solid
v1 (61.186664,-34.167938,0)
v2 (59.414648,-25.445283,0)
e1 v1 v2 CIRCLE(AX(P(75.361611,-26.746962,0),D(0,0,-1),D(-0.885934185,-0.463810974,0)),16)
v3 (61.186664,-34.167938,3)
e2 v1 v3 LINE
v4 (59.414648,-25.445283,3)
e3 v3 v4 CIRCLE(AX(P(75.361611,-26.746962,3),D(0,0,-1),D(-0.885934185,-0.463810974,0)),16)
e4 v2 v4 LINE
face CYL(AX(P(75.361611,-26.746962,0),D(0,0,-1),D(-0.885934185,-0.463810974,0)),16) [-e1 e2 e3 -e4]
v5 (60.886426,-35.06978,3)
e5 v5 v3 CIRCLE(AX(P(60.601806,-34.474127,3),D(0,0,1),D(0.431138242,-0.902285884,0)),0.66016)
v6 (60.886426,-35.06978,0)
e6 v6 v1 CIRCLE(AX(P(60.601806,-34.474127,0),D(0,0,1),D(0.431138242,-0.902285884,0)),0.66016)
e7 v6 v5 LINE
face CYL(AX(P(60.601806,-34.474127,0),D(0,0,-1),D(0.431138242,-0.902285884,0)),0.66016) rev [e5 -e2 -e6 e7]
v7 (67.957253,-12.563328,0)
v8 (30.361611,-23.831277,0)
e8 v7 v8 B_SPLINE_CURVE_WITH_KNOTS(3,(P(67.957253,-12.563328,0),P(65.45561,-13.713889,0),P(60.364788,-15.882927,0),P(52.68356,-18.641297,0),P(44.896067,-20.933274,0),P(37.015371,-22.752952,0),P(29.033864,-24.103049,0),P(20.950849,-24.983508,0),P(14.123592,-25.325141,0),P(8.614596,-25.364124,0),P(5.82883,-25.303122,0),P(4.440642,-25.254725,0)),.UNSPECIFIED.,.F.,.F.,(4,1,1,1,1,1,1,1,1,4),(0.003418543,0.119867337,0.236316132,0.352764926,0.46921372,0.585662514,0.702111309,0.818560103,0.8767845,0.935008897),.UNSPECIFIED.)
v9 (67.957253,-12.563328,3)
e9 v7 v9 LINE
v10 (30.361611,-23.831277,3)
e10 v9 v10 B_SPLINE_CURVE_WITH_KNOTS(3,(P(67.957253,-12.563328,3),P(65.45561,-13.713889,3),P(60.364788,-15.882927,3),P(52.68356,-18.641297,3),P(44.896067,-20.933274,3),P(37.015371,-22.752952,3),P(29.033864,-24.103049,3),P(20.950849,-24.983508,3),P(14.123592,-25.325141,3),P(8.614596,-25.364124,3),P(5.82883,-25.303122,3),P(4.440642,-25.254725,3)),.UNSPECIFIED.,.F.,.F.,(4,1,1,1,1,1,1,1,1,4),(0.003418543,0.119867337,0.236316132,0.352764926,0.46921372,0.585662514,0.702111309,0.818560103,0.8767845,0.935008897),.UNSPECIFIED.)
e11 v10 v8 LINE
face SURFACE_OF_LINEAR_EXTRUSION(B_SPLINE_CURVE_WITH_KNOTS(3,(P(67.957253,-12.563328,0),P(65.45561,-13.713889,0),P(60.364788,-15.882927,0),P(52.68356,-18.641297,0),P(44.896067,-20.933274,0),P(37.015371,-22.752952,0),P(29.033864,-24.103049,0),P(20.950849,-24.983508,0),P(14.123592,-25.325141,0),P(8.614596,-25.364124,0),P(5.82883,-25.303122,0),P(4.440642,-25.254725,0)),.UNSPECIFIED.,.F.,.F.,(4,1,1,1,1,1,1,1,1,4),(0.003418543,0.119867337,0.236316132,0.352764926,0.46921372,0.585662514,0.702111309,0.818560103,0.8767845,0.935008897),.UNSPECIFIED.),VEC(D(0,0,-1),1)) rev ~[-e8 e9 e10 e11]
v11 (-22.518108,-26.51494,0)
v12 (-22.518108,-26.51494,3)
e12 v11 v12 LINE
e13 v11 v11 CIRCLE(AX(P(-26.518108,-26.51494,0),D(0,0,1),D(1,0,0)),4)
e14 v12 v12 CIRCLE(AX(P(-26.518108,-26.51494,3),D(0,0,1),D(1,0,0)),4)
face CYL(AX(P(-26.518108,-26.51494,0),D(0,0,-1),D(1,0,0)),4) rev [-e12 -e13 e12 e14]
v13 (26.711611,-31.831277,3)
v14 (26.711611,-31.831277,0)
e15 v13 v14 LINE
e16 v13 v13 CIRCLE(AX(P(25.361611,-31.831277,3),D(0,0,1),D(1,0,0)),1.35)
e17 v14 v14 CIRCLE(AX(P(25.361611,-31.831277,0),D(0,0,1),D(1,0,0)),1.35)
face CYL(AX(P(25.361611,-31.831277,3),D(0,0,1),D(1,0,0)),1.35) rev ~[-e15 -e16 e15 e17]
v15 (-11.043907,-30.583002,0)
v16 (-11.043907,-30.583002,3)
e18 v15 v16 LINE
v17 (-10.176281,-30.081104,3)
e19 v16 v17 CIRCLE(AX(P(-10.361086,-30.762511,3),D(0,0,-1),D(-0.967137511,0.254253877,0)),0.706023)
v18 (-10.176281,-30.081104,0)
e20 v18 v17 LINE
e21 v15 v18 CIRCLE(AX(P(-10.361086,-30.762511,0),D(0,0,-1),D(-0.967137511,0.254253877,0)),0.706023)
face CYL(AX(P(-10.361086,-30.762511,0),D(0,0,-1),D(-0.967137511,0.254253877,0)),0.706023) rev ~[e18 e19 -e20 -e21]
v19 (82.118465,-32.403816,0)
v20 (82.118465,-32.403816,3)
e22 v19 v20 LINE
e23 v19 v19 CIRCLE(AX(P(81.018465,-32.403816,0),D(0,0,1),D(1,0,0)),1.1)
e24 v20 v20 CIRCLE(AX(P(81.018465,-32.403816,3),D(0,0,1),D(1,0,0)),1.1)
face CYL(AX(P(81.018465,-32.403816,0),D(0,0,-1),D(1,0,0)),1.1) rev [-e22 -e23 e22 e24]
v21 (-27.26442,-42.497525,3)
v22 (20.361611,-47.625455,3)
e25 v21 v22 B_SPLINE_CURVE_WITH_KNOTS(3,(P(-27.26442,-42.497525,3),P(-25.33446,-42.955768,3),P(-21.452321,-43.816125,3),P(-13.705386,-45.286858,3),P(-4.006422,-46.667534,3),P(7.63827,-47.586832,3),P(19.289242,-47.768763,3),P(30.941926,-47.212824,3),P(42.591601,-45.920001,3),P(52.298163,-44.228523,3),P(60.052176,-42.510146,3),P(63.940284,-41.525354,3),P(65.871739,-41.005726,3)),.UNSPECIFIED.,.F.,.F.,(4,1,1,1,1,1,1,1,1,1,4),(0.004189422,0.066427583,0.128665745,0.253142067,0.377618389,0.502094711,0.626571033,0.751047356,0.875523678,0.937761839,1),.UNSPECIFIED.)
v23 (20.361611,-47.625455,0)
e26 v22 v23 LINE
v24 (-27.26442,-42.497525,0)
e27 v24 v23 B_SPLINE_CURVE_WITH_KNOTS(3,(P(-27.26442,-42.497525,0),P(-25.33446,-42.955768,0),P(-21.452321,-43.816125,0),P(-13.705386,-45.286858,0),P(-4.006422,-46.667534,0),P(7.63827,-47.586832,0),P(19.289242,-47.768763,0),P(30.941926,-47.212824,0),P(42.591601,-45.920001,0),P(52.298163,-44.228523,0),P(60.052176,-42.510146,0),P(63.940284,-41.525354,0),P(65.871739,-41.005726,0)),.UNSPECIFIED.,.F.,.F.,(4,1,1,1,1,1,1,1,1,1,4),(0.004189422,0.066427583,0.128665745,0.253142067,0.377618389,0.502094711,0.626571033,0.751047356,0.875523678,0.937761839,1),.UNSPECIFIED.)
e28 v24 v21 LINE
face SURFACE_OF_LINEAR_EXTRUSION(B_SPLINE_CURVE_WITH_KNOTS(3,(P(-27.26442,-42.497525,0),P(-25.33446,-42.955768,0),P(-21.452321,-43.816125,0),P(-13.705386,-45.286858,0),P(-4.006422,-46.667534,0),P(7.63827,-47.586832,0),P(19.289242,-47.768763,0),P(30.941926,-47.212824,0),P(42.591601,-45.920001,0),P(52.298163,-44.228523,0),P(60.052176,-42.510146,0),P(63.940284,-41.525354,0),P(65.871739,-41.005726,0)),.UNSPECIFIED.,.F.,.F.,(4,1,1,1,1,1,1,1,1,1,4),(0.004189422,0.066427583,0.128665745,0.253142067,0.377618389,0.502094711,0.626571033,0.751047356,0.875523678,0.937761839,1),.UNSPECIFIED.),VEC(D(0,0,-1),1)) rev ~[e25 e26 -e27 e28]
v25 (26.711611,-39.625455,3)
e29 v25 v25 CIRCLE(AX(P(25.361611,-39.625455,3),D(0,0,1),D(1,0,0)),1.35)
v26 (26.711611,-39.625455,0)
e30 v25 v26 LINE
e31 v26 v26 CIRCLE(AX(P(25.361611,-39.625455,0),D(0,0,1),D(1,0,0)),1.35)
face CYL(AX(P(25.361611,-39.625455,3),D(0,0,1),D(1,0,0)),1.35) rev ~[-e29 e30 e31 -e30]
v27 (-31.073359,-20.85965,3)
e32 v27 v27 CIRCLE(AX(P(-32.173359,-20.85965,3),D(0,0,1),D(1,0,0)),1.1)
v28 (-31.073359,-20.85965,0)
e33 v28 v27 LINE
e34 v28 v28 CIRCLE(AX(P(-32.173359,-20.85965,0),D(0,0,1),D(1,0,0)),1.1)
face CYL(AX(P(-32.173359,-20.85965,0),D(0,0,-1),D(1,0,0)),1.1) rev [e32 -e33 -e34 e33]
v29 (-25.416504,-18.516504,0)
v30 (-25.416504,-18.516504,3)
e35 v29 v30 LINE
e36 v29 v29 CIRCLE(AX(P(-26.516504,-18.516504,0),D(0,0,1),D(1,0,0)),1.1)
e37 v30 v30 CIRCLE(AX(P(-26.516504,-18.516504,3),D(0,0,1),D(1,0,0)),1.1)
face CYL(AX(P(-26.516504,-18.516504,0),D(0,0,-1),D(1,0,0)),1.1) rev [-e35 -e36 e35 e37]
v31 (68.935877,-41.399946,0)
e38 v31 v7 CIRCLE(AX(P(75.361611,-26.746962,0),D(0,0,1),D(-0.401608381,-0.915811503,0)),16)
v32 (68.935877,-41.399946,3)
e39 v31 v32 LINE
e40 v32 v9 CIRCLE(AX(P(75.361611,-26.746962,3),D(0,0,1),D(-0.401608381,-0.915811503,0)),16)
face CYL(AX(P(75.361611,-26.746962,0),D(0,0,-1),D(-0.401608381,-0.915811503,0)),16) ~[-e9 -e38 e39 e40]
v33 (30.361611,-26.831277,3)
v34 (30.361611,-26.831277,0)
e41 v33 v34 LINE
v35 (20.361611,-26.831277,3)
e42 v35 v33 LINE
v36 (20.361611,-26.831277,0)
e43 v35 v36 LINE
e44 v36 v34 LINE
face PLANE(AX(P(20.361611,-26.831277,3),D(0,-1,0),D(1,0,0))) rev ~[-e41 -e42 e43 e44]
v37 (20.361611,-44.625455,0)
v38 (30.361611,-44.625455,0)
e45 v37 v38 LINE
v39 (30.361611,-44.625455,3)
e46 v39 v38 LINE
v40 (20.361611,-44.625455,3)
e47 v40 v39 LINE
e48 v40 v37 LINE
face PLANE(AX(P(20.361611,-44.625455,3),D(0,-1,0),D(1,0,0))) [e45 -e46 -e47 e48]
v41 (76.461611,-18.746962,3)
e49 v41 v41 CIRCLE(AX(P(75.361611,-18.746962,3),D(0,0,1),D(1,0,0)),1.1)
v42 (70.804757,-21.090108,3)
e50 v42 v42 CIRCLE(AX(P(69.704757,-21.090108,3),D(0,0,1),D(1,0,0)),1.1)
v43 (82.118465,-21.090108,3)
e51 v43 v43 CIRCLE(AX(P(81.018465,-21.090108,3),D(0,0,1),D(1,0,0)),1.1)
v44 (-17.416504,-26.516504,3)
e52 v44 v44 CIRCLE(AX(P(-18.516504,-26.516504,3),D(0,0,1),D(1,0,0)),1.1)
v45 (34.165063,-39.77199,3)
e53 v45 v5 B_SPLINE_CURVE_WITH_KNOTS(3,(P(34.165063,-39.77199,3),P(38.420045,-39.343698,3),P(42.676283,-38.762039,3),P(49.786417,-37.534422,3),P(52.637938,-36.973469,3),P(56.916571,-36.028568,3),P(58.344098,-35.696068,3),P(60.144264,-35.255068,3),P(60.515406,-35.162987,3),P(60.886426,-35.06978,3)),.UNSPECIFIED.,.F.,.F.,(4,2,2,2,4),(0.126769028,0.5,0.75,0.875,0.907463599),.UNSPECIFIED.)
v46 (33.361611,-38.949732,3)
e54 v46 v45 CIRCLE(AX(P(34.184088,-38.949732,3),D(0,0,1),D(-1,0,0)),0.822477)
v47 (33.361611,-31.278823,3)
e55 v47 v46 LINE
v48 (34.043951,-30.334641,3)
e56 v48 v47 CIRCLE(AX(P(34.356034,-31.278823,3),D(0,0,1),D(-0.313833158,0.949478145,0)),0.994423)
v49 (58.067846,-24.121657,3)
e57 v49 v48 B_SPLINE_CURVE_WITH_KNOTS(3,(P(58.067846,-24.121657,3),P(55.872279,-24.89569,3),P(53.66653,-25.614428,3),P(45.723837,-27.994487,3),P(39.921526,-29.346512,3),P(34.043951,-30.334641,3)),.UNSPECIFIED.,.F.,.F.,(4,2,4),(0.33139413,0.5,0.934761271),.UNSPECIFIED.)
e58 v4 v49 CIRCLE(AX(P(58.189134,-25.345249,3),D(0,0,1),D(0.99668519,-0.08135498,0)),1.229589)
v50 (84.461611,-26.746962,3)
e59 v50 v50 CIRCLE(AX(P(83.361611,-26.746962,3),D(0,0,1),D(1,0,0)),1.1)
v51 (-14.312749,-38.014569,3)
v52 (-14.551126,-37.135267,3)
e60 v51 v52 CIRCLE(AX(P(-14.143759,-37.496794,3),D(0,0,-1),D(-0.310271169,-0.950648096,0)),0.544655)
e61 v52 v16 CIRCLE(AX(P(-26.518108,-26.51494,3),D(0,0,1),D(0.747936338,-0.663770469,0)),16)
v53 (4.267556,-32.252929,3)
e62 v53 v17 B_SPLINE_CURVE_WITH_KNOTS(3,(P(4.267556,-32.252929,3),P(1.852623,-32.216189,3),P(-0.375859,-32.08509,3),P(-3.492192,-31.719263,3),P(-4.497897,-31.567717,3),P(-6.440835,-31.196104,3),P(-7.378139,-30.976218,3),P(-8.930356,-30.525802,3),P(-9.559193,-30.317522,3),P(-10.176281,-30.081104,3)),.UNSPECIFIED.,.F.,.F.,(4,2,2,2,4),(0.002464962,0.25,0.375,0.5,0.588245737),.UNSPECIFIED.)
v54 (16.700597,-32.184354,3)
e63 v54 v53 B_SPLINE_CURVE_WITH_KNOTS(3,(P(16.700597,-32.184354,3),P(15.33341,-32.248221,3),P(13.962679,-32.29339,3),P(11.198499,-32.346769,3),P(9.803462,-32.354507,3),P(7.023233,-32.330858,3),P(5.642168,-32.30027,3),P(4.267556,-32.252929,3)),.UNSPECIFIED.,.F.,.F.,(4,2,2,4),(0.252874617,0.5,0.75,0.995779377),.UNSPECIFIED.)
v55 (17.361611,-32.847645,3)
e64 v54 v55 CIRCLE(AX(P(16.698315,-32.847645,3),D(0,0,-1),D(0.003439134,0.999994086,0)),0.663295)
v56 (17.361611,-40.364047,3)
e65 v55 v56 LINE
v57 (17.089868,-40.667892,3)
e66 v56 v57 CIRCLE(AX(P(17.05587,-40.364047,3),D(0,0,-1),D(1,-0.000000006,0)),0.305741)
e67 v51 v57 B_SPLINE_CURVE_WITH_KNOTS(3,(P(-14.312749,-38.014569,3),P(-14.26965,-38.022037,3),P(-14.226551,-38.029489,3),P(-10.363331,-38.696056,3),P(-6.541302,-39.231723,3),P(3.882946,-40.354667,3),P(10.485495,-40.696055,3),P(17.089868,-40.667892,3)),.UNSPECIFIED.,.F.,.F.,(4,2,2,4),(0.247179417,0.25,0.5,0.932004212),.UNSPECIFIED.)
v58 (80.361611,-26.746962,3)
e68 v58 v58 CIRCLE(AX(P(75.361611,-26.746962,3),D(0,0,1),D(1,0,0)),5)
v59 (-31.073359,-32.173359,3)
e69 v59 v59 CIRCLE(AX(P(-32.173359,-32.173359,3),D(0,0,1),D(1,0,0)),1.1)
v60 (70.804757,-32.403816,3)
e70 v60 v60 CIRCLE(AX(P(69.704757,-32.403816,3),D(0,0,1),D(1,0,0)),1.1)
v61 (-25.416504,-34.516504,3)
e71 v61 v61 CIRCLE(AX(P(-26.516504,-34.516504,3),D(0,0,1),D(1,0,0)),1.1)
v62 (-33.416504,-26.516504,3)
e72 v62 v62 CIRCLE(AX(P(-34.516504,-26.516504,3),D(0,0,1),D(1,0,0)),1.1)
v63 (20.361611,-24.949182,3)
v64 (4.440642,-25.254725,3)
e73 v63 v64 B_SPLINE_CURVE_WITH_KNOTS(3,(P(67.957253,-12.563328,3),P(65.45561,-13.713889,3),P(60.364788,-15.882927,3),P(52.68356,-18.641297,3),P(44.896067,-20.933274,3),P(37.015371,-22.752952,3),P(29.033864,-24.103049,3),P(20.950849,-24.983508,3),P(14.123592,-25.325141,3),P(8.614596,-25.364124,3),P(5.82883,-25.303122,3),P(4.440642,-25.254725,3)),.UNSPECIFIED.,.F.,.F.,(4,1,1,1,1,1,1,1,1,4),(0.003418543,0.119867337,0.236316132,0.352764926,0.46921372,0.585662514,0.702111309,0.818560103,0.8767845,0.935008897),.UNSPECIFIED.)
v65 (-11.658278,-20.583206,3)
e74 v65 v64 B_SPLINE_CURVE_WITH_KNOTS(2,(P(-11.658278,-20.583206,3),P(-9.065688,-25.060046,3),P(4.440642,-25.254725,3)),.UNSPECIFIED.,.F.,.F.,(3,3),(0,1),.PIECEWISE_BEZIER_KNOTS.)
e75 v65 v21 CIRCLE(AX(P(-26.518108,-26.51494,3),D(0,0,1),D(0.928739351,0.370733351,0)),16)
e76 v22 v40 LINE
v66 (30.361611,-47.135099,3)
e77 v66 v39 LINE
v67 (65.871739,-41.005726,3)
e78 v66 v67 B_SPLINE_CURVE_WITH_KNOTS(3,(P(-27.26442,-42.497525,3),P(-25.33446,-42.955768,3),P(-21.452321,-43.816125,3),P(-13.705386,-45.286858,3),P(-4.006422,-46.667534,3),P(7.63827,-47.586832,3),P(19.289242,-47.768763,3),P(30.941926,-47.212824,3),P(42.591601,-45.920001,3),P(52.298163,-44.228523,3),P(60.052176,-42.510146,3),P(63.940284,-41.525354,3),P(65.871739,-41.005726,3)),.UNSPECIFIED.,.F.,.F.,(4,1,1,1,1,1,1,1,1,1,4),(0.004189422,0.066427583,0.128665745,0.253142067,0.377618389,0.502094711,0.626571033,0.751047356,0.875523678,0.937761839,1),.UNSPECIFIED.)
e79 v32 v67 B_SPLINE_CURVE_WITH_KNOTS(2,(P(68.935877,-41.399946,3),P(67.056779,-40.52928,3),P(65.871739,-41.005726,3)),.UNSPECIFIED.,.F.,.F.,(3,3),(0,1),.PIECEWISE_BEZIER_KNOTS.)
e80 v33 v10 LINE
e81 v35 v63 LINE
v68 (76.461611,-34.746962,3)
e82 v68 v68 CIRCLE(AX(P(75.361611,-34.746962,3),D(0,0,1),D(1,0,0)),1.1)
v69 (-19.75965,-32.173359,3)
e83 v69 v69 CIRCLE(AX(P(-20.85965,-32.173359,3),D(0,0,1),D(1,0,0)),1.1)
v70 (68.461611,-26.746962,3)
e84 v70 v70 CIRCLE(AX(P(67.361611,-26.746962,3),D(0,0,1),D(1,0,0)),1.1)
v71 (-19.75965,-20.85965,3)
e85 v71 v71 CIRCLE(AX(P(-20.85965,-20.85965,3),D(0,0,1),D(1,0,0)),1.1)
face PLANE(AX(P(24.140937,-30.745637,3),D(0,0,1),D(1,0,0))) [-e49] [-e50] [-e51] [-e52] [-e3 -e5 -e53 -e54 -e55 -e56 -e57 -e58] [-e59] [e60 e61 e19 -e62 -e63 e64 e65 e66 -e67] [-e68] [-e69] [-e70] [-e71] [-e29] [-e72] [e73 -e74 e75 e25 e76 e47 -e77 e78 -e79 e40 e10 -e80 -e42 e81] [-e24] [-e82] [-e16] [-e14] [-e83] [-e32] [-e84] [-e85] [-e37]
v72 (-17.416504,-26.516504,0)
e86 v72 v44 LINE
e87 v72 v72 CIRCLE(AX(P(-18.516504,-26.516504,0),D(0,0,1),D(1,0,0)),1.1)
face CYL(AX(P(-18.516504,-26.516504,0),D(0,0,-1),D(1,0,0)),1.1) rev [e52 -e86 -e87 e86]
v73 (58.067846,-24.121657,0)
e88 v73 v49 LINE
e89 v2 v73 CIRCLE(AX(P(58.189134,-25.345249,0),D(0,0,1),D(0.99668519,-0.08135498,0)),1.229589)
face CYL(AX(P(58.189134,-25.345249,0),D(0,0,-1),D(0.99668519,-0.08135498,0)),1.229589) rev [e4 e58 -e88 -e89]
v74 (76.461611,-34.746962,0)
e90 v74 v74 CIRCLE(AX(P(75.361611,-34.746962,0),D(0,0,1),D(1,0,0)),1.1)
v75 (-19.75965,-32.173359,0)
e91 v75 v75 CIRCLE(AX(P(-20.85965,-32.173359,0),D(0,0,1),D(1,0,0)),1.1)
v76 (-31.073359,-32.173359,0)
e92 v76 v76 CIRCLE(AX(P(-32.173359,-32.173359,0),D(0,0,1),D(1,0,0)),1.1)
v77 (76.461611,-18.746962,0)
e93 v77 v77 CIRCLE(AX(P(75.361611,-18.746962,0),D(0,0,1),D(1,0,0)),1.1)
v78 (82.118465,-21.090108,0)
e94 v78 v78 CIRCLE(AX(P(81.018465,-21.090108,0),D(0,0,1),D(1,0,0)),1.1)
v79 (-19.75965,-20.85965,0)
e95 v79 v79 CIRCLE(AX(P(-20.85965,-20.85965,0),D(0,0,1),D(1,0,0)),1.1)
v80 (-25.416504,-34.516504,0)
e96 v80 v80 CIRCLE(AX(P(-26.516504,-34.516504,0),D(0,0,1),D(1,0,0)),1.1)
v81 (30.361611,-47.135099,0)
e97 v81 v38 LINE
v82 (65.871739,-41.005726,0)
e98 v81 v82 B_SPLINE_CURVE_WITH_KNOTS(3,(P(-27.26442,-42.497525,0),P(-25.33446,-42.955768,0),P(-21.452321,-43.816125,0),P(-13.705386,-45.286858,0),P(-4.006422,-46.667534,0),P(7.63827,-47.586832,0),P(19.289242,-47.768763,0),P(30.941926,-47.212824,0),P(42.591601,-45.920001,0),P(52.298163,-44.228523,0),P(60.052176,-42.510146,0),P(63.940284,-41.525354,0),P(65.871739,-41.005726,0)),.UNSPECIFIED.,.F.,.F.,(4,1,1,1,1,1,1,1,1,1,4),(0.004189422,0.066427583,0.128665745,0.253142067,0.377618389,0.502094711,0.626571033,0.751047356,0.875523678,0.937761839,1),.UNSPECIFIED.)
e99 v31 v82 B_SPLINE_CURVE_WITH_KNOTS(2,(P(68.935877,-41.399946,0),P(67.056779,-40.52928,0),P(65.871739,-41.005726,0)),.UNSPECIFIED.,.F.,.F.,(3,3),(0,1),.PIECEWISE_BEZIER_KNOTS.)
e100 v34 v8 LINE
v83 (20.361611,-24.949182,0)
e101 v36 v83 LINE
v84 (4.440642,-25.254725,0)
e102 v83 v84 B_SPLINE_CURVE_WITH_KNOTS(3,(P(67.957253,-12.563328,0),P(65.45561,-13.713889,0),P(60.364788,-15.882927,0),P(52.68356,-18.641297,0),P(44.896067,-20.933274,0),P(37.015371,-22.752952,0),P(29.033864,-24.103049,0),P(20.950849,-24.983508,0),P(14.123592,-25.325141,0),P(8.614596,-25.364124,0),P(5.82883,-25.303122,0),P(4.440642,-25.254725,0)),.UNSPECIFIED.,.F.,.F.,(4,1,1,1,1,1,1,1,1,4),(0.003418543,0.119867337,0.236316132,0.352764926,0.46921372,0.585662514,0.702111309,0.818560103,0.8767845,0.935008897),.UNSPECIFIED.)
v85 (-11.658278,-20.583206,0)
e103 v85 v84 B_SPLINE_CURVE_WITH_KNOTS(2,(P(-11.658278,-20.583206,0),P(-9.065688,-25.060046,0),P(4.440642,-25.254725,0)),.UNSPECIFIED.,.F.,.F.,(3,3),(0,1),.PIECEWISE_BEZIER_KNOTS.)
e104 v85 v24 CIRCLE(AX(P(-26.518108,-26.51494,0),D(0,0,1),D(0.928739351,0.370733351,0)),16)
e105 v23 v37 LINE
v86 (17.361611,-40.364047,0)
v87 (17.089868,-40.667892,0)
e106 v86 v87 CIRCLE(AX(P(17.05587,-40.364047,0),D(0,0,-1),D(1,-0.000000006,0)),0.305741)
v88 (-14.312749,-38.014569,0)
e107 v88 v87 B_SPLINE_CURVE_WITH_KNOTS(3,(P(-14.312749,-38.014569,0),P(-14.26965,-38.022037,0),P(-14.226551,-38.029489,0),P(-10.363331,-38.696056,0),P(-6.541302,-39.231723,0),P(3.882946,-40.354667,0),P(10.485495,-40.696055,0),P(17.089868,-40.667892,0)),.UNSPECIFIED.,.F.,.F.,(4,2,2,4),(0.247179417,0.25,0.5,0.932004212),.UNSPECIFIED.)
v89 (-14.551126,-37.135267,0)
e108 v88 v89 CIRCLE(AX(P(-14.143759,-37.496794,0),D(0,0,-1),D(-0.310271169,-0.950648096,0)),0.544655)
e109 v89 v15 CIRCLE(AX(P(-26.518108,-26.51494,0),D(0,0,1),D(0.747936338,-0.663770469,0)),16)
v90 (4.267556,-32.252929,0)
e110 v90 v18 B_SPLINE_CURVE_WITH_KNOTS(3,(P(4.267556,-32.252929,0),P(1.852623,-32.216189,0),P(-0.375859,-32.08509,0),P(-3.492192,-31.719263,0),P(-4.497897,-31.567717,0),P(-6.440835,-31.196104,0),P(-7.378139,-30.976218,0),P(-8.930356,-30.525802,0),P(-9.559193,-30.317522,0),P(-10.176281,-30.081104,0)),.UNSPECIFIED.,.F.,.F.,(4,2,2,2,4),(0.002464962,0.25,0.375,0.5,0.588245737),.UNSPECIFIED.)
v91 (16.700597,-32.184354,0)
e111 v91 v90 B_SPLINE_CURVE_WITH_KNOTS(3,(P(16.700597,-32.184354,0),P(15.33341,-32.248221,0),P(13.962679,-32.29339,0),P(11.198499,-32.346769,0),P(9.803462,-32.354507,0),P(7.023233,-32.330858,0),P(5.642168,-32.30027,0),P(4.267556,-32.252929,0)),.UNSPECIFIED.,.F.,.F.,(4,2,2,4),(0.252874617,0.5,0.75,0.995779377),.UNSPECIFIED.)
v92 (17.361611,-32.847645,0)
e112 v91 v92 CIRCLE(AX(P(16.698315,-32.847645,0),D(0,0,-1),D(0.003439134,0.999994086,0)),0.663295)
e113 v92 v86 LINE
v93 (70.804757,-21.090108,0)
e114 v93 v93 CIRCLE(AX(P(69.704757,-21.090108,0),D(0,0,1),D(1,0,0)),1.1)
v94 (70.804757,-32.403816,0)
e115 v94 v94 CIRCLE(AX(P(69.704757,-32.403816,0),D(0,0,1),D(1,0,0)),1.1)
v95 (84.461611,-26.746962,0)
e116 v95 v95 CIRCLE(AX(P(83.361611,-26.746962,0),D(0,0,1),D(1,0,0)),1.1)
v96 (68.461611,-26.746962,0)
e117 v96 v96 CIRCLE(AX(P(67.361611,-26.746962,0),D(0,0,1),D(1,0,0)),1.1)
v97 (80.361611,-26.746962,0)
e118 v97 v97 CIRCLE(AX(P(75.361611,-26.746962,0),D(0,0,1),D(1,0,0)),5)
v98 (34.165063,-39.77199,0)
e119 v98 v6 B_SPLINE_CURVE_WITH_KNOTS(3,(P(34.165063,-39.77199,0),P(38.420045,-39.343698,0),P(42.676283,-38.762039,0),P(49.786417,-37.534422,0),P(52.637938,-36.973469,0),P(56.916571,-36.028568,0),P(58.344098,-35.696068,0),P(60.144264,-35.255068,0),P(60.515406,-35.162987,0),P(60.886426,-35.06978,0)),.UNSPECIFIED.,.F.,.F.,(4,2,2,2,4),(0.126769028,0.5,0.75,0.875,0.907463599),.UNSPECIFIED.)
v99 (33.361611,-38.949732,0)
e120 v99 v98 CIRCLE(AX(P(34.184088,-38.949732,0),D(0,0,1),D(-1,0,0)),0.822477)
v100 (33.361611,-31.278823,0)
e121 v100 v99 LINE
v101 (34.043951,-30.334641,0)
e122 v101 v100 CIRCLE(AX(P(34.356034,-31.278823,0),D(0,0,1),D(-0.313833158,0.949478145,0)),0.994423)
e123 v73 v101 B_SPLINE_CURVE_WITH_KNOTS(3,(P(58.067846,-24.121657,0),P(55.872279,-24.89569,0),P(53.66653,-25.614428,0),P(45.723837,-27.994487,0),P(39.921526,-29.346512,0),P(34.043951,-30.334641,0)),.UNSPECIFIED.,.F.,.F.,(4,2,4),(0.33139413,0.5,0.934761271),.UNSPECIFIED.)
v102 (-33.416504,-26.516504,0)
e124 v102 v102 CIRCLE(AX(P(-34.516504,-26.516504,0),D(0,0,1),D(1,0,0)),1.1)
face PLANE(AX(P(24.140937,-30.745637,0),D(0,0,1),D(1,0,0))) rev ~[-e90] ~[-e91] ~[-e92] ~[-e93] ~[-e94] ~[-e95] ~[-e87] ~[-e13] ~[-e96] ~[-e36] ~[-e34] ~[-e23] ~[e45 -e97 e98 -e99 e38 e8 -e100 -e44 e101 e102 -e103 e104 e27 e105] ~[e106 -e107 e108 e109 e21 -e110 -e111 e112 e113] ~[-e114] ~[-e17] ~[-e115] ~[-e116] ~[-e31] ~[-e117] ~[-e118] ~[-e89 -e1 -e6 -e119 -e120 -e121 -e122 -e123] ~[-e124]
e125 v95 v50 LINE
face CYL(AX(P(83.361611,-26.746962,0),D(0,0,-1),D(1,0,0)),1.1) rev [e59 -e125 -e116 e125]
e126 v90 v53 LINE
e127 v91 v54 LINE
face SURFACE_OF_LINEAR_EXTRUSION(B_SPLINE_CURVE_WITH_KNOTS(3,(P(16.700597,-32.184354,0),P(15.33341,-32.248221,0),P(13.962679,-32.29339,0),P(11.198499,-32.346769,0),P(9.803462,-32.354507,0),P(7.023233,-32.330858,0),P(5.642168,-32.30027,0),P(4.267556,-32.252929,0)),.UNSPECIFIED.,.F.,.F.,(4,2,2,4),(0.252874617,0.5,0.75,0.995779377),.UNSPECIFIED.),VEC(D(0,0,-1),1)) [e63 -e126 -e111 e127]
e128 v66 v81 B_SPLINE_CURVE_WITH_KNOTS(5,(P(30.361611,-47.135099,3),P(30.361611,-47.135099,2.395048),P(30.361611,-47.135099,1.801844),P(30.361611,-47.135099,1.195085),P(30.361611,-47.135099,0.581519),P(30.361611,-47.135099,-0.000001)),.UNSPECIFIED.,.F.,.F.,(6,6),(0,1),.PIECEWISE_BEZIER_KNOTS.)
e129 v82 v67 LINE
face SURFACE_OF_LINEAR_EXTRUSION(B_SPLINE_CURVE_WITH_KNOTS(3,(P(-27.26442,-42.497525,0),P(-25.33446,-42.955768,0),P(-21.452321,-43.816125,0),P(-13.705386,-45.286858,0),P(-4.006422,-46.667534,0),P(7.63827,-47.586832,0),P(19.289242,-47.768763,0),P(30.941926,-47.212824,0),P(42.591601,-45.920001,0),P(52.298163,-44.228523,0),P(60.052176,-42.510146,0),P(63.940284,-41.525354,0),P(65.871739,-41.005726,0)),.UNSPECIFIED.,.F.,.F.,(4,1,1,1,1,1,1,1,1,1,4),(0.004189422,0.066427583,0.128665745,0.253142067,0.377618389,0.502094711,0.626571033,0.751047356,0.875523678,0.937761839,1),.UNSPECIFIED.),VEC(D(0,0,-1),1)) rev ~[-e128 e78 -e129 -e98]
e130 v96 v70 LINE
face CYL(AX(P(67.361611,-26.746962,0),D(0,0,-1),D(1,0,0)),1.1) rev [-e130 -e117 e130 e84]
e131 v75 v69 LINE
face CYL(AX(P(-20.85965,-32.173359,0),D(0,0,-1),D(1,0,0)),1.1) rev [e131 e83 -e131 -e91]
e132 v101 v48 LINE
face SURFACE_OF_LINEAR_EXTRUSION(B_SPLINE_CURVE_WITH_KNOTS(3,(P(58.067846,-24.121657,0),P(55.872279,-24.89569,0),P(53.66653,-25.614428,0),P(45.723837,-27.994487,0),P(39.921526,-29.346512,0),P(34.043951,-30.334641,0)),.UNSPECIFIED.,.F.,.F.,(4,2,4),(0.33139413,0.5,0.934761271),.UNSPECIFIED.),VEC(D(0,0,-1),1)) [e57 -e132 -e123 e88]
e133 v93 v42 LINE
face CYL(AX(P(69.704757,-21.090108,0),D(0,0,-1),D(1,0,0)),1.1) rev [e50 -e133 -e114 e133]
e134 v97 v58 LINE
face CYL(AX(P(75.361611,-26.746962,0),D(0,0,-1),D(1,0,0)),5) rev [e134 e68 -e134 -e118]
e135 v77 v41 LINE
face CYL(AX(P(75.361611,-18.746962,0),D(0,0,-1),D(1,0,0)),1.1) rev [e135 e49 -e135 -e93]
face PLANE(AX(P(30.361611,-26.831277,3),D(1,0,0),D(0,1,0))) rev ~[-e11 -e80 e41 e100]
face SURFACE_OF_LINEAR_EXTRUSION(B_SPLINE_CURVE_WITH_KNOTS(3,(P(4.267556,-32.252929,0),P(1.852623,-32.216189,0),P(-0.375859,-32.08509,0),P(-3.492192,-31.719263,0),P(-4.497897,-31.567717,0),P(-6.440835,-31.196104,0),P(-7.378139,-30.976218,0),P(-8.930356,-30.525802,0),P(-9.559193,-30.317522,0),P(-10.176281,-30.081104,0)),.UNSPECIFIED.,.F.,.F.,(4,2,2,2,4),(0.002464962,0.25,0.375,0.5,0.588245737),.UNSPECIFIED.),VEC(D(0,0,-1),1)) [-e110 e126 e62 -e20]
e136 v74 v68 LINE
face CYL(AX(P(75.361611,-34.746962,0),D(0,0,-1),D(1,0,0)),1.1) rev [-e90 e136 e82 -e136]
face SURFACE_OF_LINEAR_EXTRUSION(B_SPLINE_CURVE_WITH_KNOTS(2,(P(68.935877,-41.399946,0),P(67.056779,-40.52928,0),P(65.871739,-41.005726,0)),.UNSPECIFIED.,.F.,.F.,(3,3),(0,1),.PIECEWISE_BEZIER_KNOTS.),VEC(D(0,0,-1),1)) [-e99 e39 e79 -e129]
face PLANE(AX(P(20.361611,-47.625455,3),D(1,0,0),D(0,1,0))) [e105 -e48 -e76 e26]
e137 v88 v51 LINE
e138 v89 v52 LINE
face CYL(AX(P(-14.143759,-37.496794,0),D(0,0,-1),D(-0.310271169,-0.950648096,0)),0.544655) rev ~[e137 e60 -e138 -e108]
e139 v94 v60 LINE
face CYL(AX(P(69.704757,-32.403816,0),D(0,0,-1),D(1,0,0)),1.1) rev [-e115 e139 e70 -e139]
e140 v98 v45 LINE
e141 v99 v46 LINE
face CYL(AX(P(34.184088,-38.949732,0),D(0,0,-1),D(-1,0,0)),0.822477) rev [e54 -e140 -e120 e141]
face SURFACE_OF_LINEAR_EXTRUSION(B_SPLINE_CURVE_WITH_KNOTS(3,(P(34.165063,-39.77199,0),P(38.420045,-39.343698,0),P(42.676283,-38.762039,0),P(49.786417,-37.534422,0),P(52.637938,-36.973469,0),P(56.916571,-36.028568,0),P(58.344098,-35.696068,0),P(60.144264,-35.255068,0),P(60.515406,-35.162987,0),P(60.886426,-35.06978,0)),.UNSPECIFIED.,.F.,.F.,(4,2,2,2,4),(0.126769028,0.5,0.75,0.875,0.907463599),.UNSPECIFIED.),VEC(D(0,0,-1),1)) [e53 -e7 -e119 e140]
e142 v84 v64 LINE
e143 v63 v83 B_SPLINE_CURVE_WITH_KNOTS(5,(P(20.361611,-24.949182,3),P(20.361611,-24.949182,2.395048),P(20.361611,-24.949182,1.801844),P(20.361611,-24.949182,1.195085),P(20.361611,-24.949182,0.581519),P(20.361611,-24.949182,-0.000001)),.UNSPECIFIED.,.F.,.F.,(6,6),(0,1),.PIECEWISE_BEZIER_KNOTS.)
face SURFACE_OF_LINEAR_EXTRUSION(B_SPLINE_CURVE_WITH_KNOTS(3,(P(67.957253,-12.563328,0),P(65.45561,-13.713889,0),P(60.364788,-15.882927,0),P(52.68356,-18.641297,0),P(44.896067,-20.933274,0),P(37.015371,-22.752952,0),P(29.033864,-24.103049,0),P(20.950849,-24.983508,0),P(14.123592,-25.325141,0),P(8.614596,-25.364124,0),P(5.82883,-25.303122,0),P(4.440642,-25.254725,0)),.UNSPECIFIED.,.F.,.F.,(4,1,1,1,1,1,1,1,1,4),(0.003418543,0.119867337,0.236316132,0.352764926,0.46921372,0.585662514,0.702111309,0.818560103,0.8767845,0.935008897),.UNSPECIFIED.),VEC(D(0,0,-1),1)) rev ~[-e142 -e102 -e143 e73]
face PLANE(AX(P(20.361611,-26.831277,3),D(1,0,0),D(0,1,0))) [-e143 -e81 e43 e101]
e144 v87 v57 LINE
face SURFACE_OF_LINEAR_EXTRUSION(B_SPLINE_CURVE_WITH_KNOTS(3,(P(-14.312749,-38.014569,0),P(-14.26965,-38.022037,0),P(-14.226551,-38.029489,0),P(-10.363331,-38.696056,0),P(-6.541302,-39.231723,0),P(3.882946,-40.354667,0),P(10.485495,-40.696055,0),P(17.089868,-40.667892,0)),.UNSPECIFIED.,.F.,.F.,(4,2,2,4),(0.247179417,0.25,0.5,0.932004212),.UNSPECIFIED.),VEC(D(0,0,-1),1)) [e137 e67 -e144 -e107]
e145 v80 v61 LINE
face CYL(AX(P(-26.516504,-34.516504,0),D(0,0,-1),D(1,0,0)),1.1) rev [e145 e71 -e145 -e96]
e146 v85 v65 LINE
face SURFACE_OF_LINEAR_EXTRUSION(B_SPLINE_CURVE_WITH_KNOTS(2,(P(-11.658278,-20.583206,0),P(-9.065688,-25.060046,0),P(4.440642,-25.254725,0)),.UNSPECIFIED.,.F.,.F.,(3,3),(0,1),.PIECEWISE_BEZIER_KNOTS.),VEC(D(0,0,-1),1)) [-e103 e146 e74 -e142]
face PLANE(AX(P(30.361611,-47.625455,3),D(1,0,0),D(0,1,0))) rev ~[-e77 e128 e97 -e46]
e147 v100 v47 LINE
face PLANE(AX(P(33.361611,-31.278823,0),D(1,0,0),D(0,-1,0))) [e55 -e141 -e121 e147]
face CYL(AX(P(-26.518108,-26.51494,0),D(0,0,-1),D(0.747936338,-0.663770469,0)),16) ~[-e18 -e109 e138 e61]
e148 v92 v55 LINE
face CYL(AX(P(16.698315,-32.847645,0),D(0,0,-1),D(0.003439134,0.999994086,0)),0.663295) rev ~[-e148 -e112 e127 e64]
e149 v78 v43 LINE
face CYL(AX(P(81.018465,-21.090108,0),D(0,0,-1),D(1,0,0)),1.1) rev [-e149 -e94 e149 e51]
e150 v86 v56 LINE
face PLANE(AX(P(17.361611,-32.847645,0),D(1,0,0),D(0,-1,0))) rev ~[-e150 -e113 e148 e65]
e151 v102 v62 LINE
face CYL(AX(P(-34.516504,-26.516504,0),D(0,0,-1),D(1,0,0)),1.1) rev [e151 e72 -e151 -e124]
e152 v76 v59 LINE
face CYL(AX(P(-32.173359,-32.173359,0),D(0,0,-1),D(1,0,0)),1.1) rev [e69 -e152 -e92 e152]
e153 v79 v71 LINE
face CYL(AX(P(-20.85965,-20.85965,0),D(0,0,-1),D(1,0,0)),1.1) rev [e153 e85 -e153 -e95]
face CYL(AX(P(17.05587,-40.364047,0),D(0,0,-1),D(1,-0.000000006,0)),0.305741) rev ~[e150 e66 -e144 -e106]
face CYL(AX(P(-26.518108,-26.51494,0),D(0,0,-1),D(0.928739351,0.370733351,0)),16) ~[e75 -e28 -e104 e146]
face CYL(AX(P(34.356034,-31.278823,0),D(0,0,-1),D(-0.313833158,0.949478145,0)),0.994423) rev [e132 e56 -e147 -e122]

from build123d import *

# Parameters (mm, degrees)
SKETCH1_R           = 5
SKETCH1_R_2         = 1.1
SKETCH1_R_3         = 4
BOSS_EXTRUDE1_DEPTH = 3
SKETCH2_R           = 1.35
SKETCH2_W           = 10
SKETCH2_H           = 3
CUT_EXTRUDE2_DEPTH  = 5
CUT_EXTRUDE3_START  = -3
CUT_EXTRUDE3_DEPTH  = 3


with BuildPart() as part:
    # Sketch1 → Boss-Extrude1 (new body)
    with BuildSketch(Plane.XY):
        with BuildLine():
            ThreePointArc((-11.658277887, -20.5832063), (-39.551034339, -17.233624375), (-27.264419704, -42.497524754))
            add(Edge.make_bspline(
                [(-27.264419704, -42.497524754), (-25.334460253, -42.955768201), (-21.452320642, -43.816124737), (-13.705385842, -45.286858174), (-4.006421964, -46.667533574), (7.638269658, -47.586831656), (19.289241844, -47.768762722), (30.941925955, -47.212824411), (42.591601286, -45.920000504), (52.298162816, -44.228522597), (60.052175742, -42.510146288), (63.940283625, -41.52535362), (65.871739475, -41.00572578)],
                knots=[0.004189422, 0.004189422, 0.004189422, 0.004189422, 0.066427583, 0.128665745, 0.253142067, 0.377618389, 0.502094711, 0.626571033, 0.751047356, 0.875523678, 0.937761839, 1, 1, 1, 1], degree=3))
            add(Edge.make_bspline(
                [(68.935876888, -41.399946265), (67.056778784, -40.529280178), (65.871739475, -41.00572578)],
                knots=[0, 0, 0, 1, 1, 1], degree=2))
            ThreePointArc((68.935876888, -41.399946265), (91.352405248, -26.204284986), (67.957252813, -12.563327983))
            add(Edge.make_bspline(
                [(67.957252813, -12.563327983), (65.455609859, -13.713888582), (60.364787712, -15.882927404), (52.683559955, -18.641296662), (44.896066709, -20.933273776), (37.015370972, -22.752952432), (29.033864031, -24.103049266), (20.950849492, -24.983508442), (14.12359191, -25.325141054), (8.614596461, -25.364124484), (5.82883012, -25.303122311), (4.440642397, -25.254725163)],
                knots=[0.003418543, 0.003418543, 0.003418543, 0.003418543, 0.119867337, 0.236316132, 0.352764926, 0.46921372, 0.585662514, 0.702111309, 0.818560103, 0.8767845, 0.935008897, 0.935008897, 0.935008897, 0.935008897], degree=3))
            add(Edge.make_bspline(
                [(-11.658277887, -20.5832063), (-9.065688302, -25.060046308), (4.440642397, -25.254725163)],
                knots=[0, 0, 0, 1, 1, 1], degree=2))
        make_face()
        with Locations((75.361610976, -26.74696222)):
            Circle(SKETCH1_R, mode=Mode.SUBTRACT)
        with Locations((75.361610976, -18.74696222)):
            Circle(SKETCH1_R_2, mode=Mode.SUBTRACT)
        with Locations((81.018465226, -21.090107971)):
            Circle(SKETCH1_R_2, mode=Mode.SUBTRACT)
        with Locations((83.361610976, -26.74696222)):
            Circle(SKETCH1_R_2, mode=Mode.SUBTRACT)
        with Locations((-26.518107506, -26.514939916)):
            Circle(SKETCH1_R_3, mode=Mode.SUBTRACT)
        with Locations((81.018465226, -32.40381647)):
            Circle(SKETCH1_R_2, mode=Mode.SUBTRACT)
        with Locations((-26.516504294, -18.516504294)):
            Circle(SKETCH1_R_2, mode=Mode.SUBTRACT)
        with Locations((-20.859650045, -20.859650045)):
            Circle(SKETCH1_R_2, mode=Mode.SUBTRACT)
        with Locations((-18.516504294, -26.516504294)):
            Circle(SKETCH1_R_2, mode=Mode.SUBTRACT)
        with Locations((-20.859650045, -32.173358544)):
            Circle(SKETCH1_R_2, mode=Mode.SUBTRACT)
        with Locations((-26.516504294, -34.516504294)):
            Circle(SKETCH1_R_2, mode=Mode.SUBTRACT)
        with Locations((-32.173358544, -32.173358544)):
            Circle(SKETCH1_R_2, mode=Mode.SUBTRACT)
        with Locations((-34.516504294, -26.516504294)):
            Circle(SKETCH1_R_2, mode=Mode.SUBTRACT)
        with Locations((-32.173358544, -20.859650045)):
            Circle(SKETCH1_R_2, mode=Mode.SUBTRACT)
        with Locations((75.361610976, -34.74696222)):
            Circle(SKETCH1_R_2, mode=Mode.SUBTRACT)
        with Locations((69.704756727, -32.40381647)):
            Circle(SKETCH1_R_2, mode=Mode.SUBTRACT)
        with Locations((67.361610976, -26.74696222)):
            Circle(SKETCH1_R_2, mode=Mode.SUBTRACT)
        with Locations((69.704756727, -21.090107971)):
            Circle(SKETCH1_R_2, mode=Mode.SUBTRACT)
    extrude(amount=BOSS_EXTRUDE1_DEPTH)

    # Sketch2 → Cut-Extrude2 (cut)
    with BuildSketch(Plane.XY.offset(3)):
        with Locations((25.361610976, -31.831277184)):
            Circle(SKETCH2_R)
        with Locations((25.361610976, -39.625455239)):
            Circle(SKETCH2_R)
        with Locations((25.361610976, -25.331277184)):
            Rectangle(SKETCH2_W, SKETCH2_H)
        with Locations((25.361610976, -46.125455239)):
            Rectangle(SKETCH2_W, SKETCH2_H)
    extrude(amount=-CUT_EXTRUDE2_DEPTH, mode=Mode.SUBTRACT)

    # Sketch3 → Cut-Extrude3 (cut)
    with BuildSketch(Plane.XY.offset(3).offset(CUT_EXTRUDE3_START)):
        with BuildLine():
            Line((17.361610979, -32.847645213), (17.361610979, -40.364046911))
            ThreePointArc((17.361610979, -40.364046911), (17.283764857, -40.567864243), (17.089867993, -40.667891887))
            add(Edge.make_bspline(
                [(-14.312749434, -38.014569119), (-14.269650418, -38.022037001), (-14.226551001, -38.029489198), (-10.363330527, -38.696055752), (-6.541302391, -39.231722676), (3.882945868, -40.354666967), (10.485495494, -40.696055442), (17.089867993, -40.667891887)],
                knots=[0.247179417, 0.247179417, 0.247179417, 0.247179417, 0.25, 0.25, 0.5, 0.5, 0.932004212, 0.932004212, 0.932004212, 0.932004212], degree=3))
            ThreePointArc((-14.312749434, -38.014569119), (-14.669439204, -37.639304361), (-14.551126107, -37.135267416))
            ThreePointArc((-14.551126107, -37.135267416), (-12.411809014, -34.065591732), (-11.04390733, -30.583001975))
            ThreePointArc((-11.04390733, -30.583001975), (-10.714611633, -30.151374436), (-10.176280778, -30.081104386))
            add(Edge.make_bspline(
                [(4.267556159, -32.252928603), (1.852622916, -32.216188916), (-0.375859274, -32.085089658), (-3.492192372, -31.719262737), (-4.49789731, -31.56771677), (-6.440834889, -31.196104486), (-7.378139349, -30.976217552), (-8.930356181, -30.525801619), (-9.55919338, -30.317521868), (-10.176280778, -30.081104386)],
                knots=[0.002464962, 0.002464962, 0.002464962, 0.002464962, 0.25, 0.25, 0.375, 0.375, 0.5, 0.5, 0.588245737, 0.588245737, 0.588245737, 0.588245737], degree=3))
            add(Edge.make_bspline(
                [(16.700596662, -32.184353658), (15.333410228, -32.248220782), (13.962679354, -32.293390217), (11.198499486, -32.34676917), (9.803462323, -32.354507183), (7.02323328, -32.330858195), (5.642167753, -32.300269863), (4.267556159, -32.252928603)],
                knots=[0.252874617, 0.252874617, 0.252874617, 0.252874617, 0.5, 0.5, 0.75, 0.75, 0.995779377, 0.995779377, 0.995779377, 0.995779377], degree=3))
            ThreePointArc((16.700596662, -32.184353658), (17.168142051, -32.37943169), (17.361610979, -32.847645213))
        make_face()
        with BuildLine():
            Line((33.361610975, -31.278823407), (33.361610975, -38.949732453))
            ThreePointArc((33.361610975, -38.949732453), (33.595821002, -39.524545963), (34.165063011, -39.771989778))
            add(Edge.make_bspline(
                [(34.165063011, -39.771989778), (38.42004494, -39.343698243), (42.676282868, -38.762038611), (49.786416711, -37.534421652), (52.637938271, -36.973469388), (56.916570991, -36.028567717), (58.344097641, -35.696067505), (60.144263746, -35.255068175), (60.515405719, -35.16298747), (60.886425955, -35.069780201)],
                knots=[0.126769028, 0.126769028, 0.126769028, 0.126769028, 0.5, 0.5, 0.75, 0.75, 0.875, 0.875, 0.907463599, 0.907463599, 0.907463599, 0.907463599], degree=3))
            ThreePointArc((60.886425955, -35.069780201), (61.228166777, -34.682653023), (61.186664011, -34.167937798))
            ThreePointArc((61.186664011, -34.167937798), (59.68189337, -29.932312404), (59.414647943, -25.445282536))
            ThreePointArc((59.414647943, -25.445282536), (59.051007293, -24.46828568), (58.067846264, -24.121656525))
            add(Edge.make_bspline(
                [(58.067846264, -24.121656525), (55.872279142, -24.895690317), (53.666529644, -25.614427728), (45.723836534, -27.994487025), (39.921526423, -29.346512462), (34.043951004, -30.334640585)],
                knots=[0.33139413, 0.33139413, 0.33139413, 0.33139413, 0.5, 0.5, 0.934761271, 0.934761271, 0.934761271, 0.934761271], degree=3))
            ThreePointArc((34.043951004, -30.334640585), (33.550050234, -30.69635686), (33.361610975, -31.278823407))
        make_face()
    extrude(amount=CUT_EXTRUDE3_DEPTH, mode=Mode.SUBTRACT)


solid = part.part
